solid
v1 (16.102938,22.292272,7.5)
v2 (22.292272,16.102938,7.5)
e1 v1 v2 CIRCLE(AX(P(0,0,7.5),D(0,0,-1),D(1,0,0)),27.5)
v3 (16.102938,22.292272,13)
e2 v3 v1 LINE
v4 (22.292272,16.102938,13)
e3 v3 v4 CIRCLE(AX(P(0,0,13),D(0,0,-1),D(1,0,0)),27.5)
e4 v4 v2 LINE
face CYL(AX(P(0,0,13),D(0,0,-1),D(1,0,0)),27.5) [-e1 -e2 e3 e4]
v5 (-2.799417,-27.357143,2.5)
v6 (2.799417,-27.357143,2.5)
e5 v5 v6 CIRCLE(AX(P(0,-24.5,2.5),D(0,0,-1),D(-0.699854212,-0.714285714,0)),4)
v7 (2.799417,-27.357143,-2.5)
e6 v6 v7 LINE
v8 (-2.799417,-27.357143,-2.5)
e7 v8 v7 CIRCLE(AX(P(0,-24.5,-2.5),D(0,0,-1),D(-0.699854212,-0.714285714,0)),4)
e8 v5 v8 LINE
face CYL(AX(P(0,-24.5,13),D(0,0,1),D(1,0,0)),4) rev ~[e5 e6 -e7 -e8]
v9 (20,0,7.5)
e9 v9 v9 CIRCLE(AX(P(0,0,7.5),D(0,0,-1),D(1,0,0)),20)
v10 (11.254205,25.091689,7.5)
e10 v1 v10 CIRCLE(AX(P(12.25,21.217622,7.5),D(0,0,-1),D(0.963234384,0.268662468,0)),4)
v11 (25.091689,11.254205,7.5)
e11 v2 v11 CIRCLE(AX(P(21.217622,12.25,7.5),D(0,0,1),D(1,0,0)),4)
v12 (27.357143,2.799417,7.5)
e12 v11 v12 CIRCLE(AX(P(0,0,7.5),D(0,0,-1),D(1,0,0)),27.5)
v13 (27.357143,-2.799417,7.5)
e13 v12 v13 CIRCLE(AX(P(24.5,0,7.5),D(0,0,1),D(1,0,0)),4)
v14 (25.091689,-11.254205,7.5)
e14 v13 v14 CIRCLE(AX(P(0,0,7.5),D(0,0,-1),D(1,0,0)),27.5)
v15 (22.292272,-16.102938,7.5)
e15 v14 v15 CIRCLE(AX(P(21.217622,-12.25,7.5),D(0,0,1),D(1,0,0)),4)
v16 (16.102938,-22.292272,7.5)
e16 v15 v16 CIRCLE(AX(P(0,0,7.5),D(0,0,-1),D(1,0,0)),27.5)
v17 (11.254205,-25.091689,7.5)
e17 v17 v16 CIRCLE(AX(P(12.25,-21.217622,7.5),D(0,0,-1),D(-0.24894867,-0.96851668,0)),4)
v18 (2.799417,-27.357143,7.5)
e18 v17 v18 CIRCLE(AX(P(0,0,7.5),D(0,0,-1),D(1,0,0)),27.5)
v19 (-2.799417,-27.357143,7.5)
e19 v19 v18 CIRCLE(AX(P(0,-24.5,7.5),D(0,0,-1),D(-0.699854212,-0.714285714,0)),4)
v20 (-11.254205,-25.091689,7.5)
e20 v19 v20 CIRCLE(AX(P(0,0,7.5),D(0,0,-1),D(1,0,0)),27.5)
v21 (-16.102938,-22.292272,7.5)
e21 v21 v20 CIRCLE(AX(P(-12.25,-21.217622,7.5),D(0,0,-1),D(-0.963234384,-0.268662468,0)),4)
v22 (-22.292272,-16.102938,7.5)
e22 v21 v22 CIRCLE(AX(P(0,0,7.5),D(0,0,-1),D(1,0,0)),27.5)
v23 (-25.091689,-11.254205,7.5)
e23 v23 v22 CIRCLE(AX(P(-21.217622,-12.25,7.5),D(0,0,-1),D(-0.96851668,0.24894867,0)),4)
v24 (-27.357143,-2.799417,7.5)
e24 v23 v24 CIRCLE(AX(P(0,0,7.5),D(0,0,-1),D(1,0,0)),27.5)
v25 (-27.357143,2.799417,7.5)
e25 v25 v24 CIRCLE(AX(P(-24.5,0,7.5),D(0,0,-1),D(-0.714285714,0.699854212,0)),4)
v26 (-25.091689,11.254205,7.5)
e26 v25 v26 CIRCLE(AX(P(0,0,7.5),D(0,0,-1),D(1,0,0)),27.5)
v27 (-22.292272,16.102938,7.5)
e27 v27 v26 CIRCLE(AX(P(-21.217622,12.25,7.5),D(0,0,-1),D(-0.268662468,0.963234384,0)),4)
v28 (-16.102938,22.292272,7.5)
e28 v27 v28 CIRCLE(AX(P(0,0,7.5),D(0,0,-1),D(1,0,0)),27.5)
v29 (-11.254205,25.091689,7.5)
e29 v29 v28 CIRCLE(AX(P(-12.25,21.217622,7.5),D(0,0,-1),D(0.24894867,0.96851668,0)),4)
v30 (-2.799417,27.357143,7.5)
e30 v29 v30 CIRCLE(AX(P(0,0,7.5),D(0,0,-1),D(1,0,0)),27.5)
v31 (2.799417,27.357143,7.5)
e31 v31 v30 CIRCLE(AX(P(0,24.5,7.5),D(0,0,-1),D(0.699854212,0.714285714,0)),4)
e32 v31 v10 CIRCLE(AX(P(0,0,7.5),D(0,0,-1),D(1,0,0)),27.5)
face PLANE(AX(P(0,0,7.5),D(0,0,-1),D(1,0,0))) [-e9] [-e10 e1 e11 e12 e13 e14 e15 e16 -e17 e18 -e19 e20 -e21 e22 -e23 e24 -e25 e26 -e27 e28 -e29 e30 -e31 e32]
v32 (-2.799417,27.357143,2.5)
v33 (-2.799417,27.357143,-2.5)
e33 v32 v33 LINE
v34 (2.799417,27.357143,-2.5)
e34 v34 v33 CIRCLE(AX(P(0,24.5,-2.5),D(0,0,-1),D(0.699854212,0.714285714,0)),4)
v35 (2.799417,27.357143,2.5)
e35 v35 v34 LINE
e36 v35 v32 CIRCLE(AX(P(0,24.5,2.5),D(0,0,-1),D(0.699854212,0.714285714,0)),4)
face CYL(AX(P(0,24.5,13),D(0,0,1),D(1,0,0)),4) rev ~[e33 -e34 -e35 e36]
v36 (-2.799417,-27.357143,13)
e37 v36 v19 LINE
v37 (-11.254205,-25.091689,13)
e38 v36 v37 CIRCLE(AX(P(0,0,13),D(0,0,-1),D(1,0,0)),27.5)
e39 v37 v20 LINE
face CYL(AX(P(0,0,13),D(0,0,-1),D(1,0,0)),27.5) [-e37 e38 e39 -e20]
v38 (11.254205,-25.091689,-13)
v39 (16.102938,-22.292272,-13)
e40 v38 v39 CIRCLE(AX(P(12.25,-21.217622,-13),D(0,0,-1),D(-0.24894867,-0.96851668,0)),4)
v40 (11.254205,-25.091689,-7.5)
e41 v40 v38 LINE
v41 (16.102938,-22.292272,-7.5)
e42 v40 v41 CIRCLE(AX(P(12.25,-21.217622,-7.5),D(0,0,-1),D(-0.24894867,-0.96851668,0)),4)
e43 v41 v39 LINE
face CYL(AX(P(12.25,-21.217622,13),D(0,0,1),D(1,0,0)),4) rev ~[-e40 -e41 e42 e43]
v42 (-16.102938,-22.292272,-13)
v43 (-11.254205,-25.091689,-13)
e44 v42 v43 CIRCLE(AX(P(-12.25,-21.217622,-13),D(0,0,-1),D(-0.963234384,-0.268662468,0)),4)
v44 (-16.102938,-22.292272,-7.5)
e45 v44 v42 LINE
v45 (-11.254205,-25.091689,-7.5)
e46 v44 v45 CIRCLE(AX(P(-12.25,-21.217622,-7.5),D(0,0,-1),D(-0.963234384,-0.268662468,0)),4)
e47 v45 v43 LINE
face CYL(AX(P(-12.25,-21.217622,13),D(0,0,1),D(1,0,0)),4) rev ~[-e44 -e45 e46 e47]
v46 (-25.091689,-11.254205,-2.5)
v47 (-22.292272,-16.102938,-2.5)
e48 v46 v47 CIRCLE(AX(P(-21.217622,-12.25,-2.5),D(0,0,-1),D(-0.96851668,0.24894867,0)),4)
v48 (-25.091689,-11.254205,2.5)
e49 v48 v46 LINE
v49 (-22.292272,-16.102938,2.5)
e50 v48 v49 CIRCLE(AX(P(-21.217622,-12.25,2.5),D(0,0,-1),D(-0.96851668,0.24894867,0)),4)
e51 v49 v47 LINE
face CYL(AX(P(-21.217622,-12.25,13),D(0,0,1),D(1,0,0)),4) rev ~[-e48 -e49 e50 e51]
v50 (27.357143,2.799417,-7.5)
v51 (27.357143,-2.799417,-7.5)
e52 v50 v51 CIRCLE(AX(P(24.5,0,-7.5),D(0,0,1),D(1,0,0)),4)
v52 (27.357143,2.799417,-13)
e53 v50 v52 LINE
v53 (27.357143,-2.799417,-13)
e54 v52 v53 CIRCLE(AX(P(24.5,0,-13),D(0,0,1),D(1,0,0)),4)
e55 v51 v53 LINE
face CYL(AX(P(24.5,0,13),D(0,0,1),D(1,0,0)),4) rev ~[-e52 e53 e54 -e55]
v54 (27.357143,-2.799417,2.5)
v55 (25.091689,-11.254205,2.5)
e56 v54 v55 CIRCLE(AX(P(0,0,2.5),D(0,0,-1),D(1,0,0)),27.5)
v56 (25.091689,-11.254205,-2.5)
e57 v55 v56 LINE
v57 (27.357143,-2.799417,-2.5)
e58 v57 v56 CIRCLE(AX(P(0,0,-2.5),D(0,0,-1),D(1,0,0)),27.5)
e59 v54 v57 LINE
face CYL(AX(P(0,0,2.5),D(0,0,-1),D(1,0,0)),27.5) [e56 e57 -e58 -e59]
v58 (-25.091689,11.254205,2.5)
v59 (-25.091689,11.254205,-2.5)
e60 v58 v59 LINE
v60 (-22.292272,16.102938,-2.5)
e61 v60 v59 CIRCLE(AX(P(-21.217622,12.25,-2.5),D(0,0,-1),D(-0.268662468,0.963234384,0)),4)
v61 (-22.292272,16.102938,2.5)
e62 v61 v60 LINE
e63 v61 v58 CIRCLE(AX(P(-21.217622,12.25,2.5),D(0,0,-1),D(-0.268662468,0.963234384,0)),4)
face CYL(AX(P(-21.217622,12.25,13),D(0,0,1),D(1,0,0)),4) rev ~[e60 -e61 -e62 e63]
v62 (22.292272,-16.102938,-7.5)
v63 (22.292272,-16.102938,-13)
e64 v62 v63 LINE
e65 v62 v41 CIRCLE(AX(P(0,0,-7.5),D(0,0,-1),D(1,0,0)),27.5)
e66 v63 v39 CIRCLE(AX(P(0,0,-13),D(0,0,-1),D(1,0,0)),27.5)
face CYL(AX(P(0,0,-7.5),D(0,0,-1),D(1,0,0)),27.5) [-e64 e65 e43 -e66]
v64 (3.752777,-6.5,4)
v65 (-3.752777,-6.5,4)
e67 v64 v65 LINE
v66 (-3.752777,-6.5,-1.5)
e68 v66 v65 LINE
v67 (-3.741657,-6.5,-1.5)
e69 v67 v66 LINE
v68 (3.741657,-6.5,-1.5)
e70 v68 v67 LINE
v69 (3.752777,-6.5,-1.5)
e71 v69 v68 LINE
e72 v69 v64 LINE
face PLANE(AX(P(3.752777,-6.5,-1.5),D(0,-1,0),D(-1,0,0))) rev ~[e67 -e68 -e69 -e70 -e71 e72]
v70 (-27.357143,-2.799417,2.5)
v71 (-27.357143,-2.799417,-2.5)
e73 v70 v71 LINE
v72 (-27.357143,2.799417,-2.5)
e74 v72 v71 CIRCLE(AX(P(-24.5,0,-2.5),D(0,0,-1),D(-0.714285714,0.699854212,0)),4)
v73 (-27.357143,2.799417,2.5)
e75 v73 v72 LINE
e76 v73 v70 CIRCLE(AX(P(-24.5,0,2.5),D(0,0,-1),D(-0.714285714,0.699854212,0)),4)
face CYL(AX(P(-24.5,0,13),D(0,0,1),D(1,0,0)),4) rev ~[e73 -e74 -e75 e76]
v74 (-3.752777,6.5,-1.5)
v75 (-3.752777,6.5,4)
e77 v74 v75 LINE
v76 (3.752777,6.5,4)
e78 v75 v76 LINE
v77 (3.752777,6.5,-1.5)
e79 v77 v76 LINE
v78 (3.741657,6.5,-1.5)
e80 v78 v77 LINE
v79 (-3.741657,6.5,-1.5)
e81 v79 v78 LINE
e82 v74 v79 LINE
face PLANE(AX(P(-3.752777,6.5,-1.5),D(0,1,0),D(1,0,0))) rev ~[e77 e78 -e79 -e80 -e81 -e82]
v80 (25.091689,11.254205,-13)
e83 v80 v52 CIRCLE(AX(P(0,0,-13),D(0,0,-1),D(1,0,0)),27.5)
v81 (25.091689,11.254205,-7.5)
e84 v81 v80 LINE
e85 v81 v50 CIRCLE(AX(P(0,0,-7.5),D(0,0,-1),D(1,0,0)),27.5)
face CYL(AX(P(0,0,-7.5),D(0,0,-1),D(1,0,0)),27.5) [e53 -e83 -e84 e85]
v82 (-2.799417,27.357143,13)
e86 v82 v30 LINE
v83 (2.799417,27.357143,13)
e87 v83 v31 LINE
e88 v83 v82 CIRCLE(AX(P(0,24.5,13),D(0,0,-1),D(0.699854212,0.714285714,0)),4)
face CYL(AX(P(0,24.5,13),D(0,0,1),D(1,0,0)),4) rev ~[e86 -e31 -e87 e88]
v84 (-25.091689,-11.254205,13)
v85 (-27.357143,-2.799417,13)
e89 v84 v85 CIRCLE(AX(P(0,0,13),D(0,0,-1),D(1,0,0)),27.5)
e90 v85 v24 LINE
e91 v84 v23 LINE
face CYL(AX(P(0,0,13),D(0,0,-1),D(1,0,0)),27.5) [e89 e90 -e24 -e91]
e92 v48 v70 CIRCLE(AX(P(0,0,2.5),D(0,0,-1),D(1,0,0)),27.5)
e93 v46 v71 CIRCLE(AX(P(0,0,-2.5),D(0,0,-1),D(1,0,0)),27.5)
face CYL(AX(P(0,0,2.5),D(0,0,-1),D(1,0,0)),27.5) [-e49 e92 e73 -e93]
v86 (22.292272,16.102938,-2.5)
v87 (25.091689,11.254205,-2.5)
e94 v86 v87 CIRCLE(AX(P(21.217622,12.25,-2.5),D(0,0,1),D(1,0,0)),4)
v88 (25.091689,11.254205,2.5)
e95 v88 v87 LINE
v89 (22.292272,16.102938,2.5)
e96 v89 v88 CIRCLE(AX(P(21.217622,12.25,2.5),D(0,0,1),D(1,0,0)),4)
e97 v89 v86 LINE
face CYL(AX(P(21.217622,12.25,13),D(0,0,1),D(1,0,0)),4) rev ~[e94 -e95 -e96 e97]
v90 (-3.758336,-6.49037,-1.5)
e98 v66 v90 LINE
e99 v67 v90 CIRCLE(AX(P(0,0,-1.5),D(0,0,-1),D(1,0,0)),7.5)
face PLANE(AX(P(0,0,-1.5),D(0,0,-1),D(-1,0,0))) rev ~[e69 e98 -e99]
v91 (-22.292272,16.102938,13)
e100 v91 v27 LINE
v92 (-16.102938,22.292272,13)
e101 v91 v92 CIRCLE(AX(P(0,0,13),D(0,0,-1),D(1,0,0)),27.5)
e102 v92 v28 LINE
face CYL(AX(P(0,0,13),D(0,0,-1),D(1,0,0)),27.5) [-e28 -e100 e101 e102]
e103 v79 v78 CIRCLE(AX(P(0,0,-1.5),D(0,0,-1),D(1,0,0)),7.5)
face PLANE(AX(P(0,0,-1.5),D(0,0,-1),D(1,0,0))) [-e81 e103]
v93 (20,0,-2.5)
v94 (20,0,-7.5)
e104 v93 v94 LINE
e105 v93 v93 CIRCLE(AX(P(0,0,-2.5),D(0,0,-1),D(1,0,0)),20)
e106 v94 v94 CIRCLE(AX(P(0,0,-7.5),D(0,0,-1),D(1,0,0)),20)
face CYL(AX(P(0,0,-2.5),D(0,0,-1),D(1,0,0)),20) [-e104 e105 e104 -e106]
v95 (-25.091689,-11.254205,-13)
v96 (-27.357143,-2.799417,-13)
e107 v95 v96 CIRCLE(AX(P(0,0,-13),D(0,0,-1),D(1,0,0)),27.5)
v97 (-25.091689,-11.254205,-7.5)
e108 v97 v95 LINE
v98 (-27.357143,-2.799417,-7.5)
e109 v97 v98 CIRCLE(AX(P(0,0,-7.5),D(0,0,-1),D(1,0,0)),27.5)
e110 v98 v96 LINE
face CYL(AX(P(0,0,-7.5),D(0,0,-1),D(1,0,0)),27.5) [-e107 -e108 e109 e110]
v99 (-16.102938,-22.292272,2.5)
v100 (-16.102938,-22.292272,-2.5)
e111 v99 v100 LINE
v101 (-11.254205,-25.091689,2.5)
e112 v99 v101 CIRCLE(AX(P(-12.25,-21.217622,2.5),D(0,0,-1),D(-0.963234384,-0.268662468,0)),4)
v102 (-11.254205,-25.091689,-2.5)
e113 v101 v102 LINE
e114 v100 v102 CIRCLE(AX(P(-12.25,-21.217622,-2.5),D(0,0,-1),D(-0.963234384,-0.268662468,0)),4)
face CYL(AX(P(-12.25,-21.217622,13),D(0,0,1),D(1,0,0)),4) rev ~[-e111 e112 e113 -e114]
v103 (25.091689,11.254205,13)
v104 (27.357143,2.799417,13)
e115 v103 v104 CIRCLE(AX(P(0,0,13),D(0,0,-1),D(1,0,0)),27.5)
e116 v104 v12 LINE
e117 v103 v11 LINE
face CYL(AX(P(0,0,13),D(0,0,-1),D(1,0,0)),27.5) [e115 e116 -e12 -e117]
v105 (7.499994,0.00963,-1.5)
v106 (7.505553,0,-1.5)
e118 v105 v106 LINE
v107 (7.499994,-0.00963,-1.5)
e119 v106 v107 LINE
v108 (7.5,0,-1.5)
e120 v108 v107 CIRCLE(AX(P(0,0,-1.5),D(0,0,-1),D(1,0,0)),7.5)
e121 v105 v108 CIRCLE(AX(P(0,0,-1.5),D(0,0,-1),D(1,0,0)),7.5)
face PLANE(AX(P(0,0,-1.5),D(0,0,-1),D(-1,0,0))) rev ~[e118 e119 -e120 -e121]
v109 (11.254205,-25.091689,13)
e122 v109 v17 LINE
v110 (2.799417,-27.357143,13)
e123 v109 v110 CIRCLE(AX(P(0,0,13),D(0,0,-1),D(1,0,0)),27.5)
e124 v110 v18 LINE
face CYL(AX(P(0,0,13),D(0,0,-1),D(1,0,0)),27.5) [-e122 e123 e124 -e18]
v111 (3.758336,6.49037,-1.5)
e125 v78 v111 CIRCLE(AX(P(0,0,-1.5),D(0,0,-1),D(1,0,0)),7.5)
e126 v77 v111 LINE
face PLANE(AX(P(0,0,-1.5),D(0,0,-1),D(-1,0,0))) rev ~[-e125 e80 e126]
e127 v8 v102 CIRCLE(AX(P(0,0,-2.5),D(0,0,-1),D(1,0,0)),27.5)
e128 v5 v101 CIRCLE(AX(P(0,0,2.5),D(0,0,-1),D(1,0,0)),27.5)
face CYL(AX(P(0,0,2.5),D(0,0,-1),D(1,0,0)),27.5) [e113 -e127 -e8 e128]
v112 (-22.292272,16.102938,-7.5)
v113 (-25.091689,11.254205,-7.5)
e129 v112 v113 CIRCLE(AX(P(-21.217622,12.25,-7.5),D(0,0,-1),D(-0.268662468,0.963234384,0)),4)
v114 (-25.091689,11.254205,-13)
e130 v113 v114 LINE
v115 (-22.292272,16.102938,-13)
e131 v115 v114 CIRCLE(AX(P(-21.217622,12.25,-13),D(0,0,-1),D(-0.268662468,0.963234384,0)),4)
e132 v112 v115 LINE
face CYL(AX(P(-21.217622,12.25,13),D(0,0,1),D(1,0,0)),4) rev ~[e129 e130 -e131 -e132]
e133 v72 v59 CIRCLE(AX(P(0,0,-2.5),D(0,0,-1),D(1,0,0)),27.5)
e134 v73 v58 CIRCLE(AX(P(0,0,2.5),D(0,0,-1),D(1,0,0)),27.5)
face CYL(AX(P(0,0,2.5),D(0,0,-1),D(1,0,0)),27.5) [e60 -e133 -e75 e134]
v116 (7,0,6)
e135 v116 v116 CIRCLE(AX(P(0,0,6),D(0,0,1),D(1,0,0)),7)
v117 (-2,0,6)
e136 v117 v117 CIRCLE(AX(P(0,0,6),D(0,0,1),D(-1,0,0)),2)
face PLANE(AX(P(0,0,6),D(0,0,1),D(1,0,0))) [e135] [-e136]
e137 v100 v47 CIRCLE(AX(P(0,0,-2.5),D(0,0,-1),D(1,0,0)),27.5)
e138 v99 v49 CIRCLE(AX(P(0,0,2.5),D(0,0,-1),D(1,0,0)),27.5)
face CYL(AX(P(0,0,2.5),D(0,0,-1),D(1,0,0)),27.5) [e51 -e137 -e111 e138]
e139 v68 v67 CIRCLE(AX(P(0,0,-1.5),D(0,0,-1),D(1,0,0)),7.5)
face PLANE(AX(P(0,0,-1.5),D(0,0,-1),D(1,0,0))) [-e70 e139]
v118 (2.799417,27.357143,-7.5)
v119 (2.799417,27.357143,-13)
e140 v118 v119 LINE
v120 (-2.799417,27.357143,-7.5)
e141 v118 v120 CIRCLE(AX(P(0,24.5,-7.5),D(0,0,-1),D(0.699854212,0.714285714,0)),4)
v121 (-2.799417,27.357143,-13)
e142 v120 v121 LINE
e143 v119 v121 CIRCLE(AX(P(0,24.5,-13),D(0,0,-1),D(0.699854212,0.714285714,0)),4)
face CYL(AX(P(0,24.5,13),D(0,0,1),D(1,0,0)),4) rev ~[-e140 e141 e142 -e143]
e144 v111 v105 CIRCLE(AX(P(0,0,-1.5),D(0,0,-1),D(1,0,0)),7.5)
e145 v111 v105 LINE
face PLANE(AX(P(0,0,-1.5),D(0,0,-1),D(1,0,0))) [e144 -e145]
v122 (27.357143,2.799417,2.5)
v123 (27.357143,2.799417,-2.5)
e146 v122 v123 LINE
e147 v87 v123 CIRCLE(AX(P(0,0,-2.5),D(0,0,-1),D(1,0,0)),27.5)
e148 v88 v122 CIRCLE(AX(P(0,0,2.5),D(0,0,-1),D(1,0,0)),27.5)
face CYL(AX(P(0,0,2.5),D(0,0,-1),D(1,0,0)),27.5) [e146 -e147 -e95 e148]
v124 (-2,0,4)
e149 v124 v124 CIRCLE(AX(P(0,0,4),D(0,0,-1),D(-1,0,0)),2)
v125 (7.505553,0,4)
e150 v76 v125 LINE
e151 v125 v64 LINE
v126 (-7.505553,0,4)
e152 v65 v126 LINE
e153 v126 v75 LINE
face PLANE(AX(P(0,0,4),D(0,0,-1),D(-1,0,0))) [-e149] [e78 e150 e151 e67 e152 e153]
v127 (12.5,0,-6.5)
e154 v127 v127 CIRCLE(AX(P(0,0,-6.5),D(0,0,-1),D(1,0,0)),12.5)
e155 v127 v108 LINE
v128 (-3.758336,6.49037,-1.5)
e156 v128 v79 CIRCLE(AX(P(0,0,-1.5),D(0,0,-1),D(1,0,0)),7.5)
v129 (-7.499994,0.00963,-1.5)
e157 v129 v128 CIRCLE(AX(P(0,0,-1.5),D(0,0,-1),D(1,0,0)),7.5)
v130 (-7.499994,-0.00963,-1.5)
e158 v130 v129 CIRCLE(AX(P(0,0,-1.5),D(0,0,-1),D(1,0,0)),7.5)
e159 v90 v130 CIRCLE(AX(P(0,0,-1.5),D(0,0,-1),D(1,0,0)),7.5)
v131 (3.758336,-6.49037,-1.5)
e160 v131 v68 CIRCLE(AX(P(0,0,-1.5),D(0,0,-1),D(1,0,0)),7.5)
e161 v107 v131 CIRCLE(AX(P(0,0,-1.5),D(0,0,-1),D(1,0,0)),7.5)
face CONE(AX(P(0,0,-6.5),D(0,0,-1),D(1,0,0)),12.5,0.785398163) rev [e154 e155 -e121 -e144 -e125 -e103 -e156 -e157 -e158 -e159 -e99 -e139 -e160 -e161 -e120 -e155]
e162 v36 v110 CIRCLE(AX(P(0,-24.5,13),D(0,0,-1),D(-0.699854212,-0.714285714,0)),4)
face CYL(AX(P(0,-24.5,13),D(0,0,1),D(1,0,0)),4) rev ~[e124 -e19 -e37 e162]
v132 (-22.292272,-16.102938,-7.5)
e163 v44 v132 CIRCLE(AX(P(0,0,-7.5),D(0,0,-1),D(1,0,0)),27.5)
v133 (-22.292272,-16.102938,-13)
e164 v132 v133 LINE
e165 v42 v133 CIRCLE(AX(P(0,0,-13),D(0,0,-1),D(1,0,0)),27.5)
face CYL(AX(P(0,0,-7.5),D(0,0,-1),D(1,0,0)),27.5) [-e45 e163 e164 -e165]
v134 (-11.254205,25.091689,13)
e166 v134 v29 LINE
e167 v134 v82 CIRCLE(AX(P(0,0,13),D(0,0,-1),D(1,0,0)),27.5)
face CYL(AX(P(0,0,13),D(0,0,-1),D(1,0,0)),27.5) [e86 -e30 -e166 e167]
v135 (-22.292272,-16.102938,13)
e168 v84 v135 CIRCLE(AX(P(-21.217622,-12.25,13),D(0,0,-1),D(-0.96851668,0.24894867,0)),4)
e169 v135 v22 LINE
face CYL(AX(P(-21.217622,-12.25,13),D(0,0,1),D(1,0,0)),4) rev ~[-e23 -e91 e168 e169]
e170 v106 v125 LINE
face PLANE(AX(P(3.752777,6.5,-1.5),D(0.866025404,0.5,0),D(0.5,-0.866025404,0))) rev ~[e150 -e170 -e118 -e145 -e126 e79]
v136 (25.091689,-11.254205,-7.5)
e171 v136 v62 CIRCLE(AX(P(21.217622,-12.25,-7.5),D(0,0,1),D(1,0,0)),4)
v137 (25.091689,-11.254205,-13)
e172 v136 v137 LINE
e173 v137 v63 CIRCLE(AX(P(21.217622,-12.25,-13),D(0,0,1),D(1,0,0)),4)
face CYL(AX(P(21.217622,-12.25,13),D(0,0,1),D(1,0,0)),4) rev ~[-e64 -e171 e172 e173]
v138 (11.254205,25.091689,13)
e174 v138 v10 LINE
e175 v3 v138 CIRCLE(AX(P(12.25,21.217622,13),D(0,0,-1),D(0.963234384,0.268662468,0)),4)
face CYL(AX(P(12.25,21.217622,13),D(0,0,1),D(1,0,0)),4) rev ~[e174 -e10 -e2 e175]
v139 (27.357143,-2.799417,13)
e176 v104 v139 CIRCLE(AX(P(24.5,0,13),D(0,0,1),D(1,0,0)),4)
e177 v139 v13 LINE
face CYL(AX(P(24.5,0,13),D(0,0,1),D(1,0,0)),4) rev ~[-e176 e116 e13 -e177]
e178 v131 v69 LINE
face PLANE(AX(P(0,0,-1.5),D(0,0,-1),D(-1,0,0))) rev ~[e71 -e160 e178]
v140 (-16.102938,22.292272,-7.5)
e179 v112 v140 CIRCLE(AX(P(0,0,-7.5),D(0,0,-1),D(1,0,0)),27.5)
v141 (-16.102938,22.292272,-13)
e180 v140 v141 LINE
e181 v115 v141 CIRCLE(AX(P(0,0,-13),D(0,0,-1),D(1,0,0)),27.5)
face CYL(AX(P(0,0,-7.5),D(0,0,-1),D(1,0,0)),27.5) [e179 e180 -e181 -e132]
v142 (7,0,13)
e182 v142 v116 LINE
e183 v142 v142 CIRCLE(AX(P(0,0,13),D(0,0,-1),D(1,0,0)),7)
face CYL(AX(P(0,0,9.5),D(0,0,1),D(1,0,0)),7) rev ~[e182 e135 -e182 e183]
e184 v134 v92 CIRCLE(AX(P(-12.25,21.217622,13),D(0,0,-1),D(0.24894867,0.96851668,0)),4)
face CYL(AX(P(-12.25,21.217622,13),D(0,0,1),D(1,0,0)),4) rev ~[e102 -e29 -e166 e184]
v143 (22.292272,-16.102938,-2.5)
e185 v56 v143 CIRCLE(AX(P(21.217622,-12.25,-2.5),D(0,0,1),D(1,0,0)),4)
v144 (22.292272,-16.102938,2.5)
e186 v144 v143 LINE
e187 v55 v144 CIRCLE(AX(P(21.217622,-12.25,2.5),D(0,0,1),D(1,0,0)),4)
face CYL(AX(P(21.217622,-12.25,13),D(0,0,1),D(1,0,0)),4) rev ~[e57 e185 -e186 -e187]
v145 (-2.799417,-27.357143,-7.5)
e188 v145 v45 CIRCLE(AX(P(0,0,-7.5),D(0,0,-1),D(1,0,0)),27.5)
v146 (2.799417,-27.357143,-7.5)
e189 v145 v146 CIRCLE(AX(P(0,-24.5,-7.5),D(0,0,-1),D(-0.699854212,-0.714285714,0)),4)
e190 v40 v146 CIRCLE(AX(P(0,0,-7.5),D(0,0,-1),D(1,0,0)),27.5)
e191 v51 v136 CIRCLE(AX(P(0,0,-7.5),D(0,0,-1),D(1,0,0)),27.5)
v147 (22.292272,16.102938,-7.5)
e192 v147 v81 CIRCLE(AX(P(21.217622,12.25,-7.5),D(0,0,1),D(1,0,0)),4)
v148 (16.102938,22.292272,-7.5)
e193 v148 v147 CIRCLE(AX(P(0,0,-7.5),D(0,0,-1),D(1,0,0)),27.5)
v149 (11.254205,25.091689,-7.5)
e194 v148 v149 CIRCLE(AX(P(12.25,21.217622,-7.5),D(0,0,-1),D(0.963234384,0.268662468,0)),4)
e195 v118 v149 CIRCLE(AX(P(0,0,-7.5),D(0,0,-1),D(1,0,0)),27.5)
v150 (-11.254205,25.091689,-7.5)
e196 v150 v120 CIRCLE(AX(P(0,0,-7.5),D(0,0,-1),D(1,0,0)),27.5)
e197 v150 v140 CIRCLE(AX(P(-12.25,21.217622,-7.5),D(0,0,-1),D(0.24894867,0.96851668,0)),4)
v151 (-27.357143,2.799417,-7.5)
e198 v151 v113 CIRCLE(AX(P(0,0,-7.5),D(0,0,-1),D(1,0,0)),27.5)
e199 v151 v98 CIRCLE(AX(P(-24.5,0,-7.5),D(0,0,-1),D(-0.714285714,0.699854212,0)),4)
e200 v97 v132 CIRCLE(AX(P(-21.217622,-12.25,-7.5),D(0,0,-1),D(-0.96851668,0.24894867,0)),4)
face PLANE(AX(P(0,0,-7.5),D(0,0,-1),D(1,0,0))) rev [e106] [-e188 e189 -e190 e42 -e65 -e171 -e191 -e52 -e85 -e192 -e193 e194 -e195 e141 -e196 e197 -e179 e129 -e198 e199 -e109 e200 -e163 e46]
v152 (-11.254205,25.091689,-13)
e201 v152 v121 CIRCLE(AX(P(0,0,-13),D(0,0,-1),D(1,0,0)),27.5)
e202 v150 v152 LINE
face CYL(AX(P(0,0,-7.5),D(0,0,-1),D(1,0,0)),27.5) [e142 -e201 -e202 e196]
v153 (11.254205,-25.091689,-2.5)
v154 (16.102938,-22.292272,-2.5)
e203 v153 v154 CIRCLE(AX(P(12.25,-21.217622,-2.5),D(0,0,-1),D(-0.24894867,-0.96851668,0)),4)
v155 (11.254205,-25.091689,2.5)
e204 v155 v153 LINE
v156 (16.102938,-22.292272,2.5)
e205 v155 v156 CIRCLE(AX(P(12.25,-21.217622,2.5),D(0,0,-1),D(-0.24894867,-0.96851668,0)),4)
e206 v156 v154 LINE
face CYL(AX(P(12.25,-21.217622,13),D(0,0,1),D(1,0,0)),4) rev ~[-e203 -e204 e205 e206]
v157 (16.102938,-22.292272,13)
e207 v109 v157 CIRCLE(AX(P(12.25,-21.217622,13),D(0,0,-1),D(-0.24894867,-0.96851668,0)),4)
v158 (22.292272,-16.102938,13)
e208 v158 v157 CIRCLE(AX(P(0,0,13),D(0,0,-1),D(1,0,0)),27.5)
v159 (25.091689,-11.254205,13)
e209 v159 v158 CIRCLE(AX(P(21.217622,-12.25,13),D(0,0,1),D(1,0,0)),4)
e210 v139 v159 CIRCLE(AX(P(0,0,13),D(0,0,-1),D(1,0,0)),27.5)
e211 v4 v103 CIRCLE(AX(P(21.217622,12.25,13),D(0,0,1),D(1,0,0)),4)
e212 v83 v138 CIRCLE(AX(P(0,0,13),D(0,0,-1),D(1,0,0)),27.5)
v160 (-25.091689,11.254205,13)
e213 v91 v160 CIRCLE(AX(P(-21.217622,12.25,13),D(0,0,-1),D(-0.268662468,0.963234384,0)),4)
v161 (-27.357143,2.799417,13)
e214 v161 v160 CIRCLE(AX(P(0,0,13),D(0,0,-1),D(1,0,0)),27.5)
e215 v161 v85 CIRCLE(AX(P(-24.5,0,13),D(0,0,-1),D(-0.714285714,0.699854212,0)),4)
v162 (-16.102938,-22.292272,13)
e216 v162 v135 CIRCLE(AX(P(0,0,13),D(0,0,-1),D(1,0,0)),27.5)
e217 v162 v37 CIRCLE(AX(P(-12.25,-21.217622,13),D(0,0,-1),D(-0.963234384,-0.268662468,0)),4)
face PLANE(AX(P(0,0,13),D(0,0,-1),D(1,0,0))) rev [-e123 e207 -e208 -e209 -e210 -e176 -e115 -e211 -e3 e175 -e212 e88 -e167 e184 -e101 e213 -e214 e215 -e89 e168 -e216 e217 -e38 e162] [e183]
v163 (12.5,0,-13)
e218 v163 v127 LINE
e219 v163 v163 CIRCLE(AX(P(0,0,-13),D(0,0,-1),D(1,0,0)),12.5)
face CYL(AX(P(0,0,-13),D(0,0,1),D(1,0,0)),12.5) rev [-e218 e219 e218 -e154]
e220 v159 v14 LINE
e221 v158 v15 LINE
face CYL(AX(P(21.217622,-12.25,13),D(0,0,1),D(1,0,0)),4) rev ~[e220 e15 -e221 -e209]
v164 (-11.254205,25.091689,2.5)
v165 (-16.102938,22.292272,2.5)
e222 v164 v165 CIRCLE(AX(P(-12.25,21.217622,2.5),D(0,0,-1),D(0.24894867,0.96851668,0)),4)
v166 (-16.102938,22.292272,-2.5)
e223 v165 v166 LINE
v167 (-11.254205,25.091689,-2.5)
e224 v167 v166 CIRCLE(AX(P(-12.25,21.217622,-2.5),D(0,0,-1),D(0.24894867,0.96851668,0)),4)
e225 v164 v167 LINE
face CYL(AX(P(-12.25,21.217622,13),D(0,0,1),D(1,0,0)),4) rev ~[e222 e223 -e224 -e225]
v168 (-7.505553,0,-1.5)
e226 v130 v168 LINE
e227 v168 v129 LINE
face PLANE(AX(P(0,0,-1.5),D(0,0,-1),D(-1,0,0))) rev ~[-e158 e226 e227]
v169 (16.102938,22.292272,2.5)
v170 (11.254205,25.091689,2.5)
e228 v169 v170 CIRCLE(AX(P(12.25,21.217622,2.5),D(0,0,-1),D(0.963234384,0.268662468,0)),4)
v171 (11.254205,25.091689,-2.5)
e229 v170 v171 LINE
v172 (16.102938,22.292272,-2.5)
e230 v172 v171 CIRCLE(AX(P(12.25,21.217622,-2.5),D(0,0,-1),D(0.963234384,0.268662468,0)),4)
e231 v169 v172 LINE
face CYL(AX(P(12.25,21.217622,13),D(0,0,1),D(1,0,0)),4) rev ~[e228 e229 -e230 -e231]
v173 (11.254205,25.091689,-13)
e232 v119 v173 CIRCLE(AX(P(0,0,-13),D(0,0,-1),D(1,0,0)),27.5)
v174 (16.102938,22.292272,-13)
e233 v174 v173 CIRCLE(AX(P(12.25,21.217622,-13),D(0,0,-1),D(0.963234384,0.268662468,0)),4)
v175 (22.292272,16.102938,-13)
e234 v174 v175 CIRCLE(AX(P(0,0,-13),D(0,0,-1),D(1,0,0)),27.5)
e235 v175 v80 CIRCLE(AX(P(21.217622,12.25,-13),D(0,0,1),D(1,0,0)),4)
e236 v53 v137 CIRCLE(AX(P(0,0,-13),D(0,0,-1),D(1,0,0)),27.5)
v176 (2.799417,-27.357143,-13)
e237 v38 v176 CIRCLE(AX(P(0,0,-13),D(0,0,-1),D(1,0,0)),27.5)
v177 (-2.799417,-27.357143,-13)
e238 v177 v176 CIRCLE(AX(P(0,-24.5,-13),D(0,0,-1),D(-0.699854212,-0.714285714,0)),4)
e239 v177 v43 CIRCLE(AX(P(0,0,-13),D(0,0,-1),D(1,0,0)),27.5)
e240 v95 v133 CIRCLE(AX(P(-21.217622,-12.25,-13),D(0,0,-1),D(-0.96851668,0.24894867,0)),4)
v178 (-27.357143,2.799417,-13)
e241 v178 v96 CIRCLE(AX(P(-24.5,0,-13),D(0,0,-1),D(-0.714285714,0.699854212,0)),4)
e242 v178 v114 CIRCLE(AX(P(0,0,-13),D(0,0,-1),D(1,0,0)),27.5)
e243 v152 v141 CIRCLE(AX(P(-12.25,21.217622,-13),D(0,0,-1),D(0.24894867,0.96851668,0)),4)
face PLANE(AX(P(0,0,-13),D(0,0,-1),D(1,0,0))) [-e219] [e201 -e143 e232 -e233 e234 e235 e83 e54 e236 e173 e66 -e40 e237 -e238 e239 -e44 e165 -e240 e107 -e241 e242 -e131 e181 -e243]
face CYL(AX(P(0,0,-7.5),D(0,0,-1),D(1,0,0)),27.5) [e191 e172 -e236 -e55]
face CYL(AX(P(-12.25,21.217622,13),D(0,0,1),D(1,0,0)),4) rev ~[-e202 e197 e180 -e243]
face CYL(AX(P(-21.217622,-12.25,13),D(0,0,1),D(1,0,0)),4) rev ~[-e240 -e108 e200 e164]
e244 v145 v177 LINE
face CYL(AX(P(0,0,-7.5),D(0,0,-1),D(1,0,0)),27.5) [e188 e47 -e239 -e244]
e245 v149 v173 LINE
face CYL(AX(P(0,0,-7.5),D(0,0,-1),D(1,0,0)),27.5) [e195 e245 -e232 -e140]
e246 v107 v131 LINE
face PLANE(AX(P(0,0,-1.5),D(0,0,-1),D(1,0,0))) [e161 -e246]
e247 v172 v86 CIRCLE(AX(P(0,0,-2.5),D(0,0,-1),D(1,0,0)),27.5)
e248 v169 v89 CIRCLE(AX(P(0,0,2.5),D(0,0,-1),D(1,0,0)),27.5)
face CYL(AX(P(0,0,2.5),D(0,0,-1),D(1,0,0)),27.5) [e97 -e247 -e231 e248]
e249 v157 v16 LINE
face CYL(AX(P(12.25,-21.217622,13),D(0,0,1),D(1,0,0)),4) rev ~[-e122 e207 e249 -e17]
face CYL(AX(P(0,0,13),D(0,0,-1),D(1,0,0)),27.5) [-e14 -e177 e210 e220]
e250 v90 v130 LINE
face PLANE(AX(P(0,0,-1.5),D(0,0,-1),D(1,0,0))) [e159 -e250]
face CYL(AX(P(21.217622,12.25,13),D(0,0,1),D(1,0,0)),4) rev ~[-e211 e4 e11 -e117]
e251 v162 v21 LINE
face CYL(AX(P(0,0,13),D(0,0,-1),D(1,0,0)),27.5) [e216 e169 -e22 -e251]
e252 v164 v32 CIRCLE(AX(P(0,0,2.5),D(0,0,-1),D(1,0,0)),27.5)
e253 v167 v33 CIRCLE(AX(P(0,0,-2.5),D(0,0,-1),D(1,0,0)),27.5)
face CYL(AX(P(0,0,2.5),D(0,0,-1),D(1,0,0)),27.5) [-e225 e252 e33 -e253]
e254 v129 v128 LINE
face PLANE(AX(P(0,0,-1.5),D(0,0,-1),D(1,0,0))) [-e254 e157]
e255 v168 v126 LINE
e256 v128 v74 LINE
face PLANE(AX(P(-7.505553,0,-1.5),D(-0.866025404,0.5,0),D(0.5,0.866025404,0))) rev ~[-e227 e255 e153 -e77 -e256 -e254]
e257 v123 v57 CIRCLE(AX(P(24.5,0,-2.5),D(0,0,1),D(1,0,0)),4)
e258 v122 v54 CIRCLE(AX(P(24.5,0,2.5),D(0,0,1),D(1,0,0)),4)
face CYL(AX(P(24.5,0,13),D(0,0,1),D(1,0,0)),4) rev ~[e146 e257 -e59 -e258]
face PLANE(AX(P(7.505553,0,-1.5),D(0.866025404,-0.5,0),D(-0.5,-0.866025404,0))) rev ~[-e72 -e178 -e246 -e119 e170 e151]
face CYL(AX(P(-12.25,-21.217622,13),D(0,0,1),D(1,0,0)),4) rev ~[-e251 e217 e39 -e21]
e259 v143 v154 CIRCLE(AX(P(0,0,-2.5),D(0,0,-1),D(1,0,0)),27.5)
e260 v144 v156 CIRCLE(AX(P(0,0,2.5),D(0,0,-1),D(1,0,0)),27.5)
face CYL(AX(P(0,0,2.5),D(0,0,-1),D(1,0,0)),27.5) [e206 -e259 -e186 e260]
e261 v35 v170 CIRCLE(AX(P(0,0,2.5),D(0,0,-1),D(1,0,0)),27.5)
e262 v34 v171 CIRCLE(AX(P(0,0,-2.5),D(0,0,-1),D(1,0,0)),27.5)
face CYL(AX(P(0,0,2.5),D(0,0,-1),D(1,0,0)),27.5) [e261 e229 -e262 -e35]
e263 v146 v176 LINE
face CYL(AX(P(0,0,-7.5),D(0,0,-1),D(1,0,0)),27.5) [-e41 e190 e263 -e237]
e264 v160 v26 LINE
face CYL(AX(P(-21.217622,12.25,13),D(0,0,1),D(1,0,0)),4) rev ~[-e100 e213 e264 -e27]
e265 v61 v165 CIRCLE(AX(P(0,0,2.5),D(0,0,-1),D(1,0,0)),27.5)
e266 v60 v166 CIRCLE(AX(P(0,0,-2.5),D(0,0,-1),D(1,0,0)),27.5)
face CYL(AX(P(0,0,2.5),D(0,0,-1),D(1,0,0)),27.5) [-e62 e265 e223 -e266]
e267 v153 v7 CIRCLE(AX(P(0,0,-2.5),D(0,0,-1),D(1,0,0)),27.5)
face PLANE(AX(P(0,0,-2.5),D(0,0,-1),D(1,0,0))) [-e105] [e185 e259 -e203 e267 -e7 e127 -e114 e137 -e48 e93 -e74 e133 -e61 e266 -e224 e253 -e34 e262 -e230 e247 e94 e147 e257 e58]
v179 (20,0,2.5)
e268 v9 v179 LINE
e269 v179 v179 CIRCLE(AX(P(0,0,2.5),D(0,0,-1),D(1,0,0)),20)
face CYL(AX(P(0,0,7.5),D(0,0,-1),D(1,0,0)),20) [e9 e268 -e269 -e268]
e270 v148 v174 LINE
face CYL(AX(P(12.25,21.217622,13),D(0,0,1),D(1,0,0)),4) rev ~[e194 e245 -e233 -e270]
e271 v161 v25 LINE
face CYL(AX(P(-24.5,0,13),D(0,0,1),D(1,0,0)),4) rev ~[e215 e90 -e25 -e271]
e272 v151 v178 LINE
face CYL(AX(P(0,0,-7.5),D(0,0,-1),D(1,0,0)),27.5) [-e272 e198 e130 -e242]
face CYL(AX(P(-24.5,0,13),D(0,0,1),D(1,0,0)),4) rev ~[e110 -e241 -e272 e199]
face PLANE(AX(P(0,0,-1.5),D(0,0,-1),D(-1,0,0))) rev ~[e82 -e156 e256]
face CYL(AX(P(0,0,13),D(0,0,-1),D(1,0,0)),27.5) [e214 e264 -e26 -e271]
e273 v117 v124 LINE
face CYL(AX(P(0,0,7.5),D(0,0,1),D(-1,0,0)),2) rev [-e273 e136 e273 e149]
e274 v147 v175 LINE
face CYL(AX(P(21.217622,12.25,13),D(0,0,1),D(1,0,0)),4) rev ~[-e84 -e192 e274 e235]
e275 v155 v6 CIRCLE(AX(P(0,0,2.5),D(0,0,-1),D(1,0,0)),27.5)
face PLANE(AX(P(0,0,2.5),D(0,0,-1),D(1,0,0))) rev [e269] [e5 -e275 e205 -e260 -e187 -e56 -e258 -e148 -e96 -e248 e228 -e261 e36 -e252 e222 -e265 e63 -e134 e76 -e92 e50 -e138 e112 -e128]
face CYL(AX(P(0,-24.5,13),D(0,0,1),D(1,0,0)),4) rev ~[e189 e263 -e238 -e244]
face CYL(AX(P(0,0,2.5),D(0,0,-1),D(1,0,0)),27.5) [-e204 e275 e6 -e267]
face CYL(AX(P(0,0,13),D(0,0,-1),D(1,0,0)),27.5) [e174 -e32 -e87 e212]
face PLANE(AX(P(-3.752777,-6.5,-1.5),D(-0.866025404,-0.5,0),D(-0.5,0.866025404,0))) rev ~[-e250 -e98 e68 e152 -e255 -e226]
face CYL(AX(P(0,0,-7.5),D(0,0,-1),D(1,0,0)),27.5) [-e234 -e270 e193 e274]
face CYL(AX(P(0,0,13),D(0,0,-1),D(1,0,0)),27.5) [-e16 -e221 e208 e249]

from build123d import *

# Parameters (mm, degrees)
CORTAR_EXTRUIR1_DEPTH   = 9
CROQUIS5_R              = 4
CORTAR_EXTRUIR3_DEPTH   = 27
CROQUIS6_R              = 2
CORTAR_EXTRUIR4_DEPTH   = 10
CROQUIS7_R              = 2
SALIENTE_EXTRUIR1_DEPTH = 3.5
CROQUIS8_R              = 7
CROQUIS8_R_2            = 2
CORTAR_EXTRUIR5_DEPTH   = 3.5


with BuildPart() as part:
    # Croquis1 → Revolución1 (revolve)
    with BuildSketch(Plane(origin=(0, 0, 0), x_dir=(1, 0, 0), z_dir=(0, 1, 0))):
        Polygon((0, 1.5), (0, -9.5), (7, -9.5), (7, -13), (12.5, -13), (27.5, -13), (27.5, -7.5), (20, -7.5), (20, -2.5), (27.5, -2.5), (27.5, 2.5), (20, 2.5), (20, 7.5), (27.5, 7.5), (27.5, 13), (12.5, 13), (12.5, 6.5), (7.5, 1.5), align=None)
    revolve(axis=Axis((0, 0, 0), (0, 0, -1)))

    # Croquis2 → Cortar-Extruir1 (cut)
    with BuildSketch(Plane(origin=(0, 0, -1.5), x_dir=(-1, 0, 0), z_dir=(0, 0, -1))):
        Polygon((7.505553499, 0), (3.75277675, 6.5), (-3.75277675, 6.5), (-7.505553499, 0), (-3.75277675, -6.5), (3.75277675, -6.5), align=None)
    extrude(amount=-CORTAR_EXTRUIR1_DEPTH, mode=Mode.SUBTRACT)

    # Croquis5 → Cortar-Extruir3 (cut, through all)
    with BuildSketch(Plane.XY.offset(13)):
        with Locations((0, 24.5)):
            Circle(CROQUIS5_R)
        with Locations((12.25, 21.217622393)):
            Circle(CROQUIS5_R)
        with Locations((21.217622393, 12.25)):
            Circle(CROQUIS5_R)
        with Locations((24.5, 0)):
            Circle(CROQUIS5_R)
        with Locations((21.217622393, -12.25)):
            Circle(CROQUIS5_R)
        with Locations((12.25, -21.217622393)):
            Circle(CROQUIS5_R)
        with Locations((0, -24.5)):
            Circle(CROQUIS5_R)
        with Locations((-12.25, -21.217622393)):
            Circle(CROQUIS5_R)
        with Locations((-21.217622393, -12.25)):
            Circle(CROQUIS5_R)
        with Locations((-24.5, 0)):
            Circle(CROQUIS5_R)
        with Locations((-21.217622393, 12.25)):
            Circle(CROQUIS5_R)
        with Locations((-12.25, 21.217622393)):
            Circle(CROQUIS5_R)
    extrude(amount=-CORTAR_EXTRUIR3_DEPTH, mode=Mode.SUBTRACT)

    # Croquis6 → Cortar-Extruir4 (cut)
    with BuildSketch(Plane(origin=(0, 0, 7.5), x_dir=(-1, 0, 0), z_dir=(0, 0, -1))):
        Circle(CROQUIS6_R)
    extrude(amount=-CORTAR_EXTRUIR4_DEPTH, mode=Mode.SUBTRACT)

    # Croquis7 → Saliente-Extruir1 (add)
    with BuildSketch(Plane(origin=(0, 0, 7.5), x_dir=(-1, 0, 0), z_dir=(0, 0, -1))):
        Polygon((3.75277675, -6.5), (7.505553499, 0), (3.75277675, 6.5), (-3.75277675, 6.5), (-7.505553499, 0), (-3.75277675, -6.5), align=None)
        Circle(CROQUIS7_R, mode=Mode.SUBTRACT)
    extrude(amount=SALIENTE_EXTRUIR1_DEPTH)

    # Croquis8 → Cortar-Extruir5 (cut)
    with BuildSketch(Plane.XY.offset(9.5)):
        Circle(CROQUIS8_R)
        Circle(CROQUIS8_R_2, mode=Mode.SUBTRACT)
    extrude(amount=-CORTAR_EXTRUIR5_DEPTH, mode=Mode.SUBTRACT)


solid = part.part
